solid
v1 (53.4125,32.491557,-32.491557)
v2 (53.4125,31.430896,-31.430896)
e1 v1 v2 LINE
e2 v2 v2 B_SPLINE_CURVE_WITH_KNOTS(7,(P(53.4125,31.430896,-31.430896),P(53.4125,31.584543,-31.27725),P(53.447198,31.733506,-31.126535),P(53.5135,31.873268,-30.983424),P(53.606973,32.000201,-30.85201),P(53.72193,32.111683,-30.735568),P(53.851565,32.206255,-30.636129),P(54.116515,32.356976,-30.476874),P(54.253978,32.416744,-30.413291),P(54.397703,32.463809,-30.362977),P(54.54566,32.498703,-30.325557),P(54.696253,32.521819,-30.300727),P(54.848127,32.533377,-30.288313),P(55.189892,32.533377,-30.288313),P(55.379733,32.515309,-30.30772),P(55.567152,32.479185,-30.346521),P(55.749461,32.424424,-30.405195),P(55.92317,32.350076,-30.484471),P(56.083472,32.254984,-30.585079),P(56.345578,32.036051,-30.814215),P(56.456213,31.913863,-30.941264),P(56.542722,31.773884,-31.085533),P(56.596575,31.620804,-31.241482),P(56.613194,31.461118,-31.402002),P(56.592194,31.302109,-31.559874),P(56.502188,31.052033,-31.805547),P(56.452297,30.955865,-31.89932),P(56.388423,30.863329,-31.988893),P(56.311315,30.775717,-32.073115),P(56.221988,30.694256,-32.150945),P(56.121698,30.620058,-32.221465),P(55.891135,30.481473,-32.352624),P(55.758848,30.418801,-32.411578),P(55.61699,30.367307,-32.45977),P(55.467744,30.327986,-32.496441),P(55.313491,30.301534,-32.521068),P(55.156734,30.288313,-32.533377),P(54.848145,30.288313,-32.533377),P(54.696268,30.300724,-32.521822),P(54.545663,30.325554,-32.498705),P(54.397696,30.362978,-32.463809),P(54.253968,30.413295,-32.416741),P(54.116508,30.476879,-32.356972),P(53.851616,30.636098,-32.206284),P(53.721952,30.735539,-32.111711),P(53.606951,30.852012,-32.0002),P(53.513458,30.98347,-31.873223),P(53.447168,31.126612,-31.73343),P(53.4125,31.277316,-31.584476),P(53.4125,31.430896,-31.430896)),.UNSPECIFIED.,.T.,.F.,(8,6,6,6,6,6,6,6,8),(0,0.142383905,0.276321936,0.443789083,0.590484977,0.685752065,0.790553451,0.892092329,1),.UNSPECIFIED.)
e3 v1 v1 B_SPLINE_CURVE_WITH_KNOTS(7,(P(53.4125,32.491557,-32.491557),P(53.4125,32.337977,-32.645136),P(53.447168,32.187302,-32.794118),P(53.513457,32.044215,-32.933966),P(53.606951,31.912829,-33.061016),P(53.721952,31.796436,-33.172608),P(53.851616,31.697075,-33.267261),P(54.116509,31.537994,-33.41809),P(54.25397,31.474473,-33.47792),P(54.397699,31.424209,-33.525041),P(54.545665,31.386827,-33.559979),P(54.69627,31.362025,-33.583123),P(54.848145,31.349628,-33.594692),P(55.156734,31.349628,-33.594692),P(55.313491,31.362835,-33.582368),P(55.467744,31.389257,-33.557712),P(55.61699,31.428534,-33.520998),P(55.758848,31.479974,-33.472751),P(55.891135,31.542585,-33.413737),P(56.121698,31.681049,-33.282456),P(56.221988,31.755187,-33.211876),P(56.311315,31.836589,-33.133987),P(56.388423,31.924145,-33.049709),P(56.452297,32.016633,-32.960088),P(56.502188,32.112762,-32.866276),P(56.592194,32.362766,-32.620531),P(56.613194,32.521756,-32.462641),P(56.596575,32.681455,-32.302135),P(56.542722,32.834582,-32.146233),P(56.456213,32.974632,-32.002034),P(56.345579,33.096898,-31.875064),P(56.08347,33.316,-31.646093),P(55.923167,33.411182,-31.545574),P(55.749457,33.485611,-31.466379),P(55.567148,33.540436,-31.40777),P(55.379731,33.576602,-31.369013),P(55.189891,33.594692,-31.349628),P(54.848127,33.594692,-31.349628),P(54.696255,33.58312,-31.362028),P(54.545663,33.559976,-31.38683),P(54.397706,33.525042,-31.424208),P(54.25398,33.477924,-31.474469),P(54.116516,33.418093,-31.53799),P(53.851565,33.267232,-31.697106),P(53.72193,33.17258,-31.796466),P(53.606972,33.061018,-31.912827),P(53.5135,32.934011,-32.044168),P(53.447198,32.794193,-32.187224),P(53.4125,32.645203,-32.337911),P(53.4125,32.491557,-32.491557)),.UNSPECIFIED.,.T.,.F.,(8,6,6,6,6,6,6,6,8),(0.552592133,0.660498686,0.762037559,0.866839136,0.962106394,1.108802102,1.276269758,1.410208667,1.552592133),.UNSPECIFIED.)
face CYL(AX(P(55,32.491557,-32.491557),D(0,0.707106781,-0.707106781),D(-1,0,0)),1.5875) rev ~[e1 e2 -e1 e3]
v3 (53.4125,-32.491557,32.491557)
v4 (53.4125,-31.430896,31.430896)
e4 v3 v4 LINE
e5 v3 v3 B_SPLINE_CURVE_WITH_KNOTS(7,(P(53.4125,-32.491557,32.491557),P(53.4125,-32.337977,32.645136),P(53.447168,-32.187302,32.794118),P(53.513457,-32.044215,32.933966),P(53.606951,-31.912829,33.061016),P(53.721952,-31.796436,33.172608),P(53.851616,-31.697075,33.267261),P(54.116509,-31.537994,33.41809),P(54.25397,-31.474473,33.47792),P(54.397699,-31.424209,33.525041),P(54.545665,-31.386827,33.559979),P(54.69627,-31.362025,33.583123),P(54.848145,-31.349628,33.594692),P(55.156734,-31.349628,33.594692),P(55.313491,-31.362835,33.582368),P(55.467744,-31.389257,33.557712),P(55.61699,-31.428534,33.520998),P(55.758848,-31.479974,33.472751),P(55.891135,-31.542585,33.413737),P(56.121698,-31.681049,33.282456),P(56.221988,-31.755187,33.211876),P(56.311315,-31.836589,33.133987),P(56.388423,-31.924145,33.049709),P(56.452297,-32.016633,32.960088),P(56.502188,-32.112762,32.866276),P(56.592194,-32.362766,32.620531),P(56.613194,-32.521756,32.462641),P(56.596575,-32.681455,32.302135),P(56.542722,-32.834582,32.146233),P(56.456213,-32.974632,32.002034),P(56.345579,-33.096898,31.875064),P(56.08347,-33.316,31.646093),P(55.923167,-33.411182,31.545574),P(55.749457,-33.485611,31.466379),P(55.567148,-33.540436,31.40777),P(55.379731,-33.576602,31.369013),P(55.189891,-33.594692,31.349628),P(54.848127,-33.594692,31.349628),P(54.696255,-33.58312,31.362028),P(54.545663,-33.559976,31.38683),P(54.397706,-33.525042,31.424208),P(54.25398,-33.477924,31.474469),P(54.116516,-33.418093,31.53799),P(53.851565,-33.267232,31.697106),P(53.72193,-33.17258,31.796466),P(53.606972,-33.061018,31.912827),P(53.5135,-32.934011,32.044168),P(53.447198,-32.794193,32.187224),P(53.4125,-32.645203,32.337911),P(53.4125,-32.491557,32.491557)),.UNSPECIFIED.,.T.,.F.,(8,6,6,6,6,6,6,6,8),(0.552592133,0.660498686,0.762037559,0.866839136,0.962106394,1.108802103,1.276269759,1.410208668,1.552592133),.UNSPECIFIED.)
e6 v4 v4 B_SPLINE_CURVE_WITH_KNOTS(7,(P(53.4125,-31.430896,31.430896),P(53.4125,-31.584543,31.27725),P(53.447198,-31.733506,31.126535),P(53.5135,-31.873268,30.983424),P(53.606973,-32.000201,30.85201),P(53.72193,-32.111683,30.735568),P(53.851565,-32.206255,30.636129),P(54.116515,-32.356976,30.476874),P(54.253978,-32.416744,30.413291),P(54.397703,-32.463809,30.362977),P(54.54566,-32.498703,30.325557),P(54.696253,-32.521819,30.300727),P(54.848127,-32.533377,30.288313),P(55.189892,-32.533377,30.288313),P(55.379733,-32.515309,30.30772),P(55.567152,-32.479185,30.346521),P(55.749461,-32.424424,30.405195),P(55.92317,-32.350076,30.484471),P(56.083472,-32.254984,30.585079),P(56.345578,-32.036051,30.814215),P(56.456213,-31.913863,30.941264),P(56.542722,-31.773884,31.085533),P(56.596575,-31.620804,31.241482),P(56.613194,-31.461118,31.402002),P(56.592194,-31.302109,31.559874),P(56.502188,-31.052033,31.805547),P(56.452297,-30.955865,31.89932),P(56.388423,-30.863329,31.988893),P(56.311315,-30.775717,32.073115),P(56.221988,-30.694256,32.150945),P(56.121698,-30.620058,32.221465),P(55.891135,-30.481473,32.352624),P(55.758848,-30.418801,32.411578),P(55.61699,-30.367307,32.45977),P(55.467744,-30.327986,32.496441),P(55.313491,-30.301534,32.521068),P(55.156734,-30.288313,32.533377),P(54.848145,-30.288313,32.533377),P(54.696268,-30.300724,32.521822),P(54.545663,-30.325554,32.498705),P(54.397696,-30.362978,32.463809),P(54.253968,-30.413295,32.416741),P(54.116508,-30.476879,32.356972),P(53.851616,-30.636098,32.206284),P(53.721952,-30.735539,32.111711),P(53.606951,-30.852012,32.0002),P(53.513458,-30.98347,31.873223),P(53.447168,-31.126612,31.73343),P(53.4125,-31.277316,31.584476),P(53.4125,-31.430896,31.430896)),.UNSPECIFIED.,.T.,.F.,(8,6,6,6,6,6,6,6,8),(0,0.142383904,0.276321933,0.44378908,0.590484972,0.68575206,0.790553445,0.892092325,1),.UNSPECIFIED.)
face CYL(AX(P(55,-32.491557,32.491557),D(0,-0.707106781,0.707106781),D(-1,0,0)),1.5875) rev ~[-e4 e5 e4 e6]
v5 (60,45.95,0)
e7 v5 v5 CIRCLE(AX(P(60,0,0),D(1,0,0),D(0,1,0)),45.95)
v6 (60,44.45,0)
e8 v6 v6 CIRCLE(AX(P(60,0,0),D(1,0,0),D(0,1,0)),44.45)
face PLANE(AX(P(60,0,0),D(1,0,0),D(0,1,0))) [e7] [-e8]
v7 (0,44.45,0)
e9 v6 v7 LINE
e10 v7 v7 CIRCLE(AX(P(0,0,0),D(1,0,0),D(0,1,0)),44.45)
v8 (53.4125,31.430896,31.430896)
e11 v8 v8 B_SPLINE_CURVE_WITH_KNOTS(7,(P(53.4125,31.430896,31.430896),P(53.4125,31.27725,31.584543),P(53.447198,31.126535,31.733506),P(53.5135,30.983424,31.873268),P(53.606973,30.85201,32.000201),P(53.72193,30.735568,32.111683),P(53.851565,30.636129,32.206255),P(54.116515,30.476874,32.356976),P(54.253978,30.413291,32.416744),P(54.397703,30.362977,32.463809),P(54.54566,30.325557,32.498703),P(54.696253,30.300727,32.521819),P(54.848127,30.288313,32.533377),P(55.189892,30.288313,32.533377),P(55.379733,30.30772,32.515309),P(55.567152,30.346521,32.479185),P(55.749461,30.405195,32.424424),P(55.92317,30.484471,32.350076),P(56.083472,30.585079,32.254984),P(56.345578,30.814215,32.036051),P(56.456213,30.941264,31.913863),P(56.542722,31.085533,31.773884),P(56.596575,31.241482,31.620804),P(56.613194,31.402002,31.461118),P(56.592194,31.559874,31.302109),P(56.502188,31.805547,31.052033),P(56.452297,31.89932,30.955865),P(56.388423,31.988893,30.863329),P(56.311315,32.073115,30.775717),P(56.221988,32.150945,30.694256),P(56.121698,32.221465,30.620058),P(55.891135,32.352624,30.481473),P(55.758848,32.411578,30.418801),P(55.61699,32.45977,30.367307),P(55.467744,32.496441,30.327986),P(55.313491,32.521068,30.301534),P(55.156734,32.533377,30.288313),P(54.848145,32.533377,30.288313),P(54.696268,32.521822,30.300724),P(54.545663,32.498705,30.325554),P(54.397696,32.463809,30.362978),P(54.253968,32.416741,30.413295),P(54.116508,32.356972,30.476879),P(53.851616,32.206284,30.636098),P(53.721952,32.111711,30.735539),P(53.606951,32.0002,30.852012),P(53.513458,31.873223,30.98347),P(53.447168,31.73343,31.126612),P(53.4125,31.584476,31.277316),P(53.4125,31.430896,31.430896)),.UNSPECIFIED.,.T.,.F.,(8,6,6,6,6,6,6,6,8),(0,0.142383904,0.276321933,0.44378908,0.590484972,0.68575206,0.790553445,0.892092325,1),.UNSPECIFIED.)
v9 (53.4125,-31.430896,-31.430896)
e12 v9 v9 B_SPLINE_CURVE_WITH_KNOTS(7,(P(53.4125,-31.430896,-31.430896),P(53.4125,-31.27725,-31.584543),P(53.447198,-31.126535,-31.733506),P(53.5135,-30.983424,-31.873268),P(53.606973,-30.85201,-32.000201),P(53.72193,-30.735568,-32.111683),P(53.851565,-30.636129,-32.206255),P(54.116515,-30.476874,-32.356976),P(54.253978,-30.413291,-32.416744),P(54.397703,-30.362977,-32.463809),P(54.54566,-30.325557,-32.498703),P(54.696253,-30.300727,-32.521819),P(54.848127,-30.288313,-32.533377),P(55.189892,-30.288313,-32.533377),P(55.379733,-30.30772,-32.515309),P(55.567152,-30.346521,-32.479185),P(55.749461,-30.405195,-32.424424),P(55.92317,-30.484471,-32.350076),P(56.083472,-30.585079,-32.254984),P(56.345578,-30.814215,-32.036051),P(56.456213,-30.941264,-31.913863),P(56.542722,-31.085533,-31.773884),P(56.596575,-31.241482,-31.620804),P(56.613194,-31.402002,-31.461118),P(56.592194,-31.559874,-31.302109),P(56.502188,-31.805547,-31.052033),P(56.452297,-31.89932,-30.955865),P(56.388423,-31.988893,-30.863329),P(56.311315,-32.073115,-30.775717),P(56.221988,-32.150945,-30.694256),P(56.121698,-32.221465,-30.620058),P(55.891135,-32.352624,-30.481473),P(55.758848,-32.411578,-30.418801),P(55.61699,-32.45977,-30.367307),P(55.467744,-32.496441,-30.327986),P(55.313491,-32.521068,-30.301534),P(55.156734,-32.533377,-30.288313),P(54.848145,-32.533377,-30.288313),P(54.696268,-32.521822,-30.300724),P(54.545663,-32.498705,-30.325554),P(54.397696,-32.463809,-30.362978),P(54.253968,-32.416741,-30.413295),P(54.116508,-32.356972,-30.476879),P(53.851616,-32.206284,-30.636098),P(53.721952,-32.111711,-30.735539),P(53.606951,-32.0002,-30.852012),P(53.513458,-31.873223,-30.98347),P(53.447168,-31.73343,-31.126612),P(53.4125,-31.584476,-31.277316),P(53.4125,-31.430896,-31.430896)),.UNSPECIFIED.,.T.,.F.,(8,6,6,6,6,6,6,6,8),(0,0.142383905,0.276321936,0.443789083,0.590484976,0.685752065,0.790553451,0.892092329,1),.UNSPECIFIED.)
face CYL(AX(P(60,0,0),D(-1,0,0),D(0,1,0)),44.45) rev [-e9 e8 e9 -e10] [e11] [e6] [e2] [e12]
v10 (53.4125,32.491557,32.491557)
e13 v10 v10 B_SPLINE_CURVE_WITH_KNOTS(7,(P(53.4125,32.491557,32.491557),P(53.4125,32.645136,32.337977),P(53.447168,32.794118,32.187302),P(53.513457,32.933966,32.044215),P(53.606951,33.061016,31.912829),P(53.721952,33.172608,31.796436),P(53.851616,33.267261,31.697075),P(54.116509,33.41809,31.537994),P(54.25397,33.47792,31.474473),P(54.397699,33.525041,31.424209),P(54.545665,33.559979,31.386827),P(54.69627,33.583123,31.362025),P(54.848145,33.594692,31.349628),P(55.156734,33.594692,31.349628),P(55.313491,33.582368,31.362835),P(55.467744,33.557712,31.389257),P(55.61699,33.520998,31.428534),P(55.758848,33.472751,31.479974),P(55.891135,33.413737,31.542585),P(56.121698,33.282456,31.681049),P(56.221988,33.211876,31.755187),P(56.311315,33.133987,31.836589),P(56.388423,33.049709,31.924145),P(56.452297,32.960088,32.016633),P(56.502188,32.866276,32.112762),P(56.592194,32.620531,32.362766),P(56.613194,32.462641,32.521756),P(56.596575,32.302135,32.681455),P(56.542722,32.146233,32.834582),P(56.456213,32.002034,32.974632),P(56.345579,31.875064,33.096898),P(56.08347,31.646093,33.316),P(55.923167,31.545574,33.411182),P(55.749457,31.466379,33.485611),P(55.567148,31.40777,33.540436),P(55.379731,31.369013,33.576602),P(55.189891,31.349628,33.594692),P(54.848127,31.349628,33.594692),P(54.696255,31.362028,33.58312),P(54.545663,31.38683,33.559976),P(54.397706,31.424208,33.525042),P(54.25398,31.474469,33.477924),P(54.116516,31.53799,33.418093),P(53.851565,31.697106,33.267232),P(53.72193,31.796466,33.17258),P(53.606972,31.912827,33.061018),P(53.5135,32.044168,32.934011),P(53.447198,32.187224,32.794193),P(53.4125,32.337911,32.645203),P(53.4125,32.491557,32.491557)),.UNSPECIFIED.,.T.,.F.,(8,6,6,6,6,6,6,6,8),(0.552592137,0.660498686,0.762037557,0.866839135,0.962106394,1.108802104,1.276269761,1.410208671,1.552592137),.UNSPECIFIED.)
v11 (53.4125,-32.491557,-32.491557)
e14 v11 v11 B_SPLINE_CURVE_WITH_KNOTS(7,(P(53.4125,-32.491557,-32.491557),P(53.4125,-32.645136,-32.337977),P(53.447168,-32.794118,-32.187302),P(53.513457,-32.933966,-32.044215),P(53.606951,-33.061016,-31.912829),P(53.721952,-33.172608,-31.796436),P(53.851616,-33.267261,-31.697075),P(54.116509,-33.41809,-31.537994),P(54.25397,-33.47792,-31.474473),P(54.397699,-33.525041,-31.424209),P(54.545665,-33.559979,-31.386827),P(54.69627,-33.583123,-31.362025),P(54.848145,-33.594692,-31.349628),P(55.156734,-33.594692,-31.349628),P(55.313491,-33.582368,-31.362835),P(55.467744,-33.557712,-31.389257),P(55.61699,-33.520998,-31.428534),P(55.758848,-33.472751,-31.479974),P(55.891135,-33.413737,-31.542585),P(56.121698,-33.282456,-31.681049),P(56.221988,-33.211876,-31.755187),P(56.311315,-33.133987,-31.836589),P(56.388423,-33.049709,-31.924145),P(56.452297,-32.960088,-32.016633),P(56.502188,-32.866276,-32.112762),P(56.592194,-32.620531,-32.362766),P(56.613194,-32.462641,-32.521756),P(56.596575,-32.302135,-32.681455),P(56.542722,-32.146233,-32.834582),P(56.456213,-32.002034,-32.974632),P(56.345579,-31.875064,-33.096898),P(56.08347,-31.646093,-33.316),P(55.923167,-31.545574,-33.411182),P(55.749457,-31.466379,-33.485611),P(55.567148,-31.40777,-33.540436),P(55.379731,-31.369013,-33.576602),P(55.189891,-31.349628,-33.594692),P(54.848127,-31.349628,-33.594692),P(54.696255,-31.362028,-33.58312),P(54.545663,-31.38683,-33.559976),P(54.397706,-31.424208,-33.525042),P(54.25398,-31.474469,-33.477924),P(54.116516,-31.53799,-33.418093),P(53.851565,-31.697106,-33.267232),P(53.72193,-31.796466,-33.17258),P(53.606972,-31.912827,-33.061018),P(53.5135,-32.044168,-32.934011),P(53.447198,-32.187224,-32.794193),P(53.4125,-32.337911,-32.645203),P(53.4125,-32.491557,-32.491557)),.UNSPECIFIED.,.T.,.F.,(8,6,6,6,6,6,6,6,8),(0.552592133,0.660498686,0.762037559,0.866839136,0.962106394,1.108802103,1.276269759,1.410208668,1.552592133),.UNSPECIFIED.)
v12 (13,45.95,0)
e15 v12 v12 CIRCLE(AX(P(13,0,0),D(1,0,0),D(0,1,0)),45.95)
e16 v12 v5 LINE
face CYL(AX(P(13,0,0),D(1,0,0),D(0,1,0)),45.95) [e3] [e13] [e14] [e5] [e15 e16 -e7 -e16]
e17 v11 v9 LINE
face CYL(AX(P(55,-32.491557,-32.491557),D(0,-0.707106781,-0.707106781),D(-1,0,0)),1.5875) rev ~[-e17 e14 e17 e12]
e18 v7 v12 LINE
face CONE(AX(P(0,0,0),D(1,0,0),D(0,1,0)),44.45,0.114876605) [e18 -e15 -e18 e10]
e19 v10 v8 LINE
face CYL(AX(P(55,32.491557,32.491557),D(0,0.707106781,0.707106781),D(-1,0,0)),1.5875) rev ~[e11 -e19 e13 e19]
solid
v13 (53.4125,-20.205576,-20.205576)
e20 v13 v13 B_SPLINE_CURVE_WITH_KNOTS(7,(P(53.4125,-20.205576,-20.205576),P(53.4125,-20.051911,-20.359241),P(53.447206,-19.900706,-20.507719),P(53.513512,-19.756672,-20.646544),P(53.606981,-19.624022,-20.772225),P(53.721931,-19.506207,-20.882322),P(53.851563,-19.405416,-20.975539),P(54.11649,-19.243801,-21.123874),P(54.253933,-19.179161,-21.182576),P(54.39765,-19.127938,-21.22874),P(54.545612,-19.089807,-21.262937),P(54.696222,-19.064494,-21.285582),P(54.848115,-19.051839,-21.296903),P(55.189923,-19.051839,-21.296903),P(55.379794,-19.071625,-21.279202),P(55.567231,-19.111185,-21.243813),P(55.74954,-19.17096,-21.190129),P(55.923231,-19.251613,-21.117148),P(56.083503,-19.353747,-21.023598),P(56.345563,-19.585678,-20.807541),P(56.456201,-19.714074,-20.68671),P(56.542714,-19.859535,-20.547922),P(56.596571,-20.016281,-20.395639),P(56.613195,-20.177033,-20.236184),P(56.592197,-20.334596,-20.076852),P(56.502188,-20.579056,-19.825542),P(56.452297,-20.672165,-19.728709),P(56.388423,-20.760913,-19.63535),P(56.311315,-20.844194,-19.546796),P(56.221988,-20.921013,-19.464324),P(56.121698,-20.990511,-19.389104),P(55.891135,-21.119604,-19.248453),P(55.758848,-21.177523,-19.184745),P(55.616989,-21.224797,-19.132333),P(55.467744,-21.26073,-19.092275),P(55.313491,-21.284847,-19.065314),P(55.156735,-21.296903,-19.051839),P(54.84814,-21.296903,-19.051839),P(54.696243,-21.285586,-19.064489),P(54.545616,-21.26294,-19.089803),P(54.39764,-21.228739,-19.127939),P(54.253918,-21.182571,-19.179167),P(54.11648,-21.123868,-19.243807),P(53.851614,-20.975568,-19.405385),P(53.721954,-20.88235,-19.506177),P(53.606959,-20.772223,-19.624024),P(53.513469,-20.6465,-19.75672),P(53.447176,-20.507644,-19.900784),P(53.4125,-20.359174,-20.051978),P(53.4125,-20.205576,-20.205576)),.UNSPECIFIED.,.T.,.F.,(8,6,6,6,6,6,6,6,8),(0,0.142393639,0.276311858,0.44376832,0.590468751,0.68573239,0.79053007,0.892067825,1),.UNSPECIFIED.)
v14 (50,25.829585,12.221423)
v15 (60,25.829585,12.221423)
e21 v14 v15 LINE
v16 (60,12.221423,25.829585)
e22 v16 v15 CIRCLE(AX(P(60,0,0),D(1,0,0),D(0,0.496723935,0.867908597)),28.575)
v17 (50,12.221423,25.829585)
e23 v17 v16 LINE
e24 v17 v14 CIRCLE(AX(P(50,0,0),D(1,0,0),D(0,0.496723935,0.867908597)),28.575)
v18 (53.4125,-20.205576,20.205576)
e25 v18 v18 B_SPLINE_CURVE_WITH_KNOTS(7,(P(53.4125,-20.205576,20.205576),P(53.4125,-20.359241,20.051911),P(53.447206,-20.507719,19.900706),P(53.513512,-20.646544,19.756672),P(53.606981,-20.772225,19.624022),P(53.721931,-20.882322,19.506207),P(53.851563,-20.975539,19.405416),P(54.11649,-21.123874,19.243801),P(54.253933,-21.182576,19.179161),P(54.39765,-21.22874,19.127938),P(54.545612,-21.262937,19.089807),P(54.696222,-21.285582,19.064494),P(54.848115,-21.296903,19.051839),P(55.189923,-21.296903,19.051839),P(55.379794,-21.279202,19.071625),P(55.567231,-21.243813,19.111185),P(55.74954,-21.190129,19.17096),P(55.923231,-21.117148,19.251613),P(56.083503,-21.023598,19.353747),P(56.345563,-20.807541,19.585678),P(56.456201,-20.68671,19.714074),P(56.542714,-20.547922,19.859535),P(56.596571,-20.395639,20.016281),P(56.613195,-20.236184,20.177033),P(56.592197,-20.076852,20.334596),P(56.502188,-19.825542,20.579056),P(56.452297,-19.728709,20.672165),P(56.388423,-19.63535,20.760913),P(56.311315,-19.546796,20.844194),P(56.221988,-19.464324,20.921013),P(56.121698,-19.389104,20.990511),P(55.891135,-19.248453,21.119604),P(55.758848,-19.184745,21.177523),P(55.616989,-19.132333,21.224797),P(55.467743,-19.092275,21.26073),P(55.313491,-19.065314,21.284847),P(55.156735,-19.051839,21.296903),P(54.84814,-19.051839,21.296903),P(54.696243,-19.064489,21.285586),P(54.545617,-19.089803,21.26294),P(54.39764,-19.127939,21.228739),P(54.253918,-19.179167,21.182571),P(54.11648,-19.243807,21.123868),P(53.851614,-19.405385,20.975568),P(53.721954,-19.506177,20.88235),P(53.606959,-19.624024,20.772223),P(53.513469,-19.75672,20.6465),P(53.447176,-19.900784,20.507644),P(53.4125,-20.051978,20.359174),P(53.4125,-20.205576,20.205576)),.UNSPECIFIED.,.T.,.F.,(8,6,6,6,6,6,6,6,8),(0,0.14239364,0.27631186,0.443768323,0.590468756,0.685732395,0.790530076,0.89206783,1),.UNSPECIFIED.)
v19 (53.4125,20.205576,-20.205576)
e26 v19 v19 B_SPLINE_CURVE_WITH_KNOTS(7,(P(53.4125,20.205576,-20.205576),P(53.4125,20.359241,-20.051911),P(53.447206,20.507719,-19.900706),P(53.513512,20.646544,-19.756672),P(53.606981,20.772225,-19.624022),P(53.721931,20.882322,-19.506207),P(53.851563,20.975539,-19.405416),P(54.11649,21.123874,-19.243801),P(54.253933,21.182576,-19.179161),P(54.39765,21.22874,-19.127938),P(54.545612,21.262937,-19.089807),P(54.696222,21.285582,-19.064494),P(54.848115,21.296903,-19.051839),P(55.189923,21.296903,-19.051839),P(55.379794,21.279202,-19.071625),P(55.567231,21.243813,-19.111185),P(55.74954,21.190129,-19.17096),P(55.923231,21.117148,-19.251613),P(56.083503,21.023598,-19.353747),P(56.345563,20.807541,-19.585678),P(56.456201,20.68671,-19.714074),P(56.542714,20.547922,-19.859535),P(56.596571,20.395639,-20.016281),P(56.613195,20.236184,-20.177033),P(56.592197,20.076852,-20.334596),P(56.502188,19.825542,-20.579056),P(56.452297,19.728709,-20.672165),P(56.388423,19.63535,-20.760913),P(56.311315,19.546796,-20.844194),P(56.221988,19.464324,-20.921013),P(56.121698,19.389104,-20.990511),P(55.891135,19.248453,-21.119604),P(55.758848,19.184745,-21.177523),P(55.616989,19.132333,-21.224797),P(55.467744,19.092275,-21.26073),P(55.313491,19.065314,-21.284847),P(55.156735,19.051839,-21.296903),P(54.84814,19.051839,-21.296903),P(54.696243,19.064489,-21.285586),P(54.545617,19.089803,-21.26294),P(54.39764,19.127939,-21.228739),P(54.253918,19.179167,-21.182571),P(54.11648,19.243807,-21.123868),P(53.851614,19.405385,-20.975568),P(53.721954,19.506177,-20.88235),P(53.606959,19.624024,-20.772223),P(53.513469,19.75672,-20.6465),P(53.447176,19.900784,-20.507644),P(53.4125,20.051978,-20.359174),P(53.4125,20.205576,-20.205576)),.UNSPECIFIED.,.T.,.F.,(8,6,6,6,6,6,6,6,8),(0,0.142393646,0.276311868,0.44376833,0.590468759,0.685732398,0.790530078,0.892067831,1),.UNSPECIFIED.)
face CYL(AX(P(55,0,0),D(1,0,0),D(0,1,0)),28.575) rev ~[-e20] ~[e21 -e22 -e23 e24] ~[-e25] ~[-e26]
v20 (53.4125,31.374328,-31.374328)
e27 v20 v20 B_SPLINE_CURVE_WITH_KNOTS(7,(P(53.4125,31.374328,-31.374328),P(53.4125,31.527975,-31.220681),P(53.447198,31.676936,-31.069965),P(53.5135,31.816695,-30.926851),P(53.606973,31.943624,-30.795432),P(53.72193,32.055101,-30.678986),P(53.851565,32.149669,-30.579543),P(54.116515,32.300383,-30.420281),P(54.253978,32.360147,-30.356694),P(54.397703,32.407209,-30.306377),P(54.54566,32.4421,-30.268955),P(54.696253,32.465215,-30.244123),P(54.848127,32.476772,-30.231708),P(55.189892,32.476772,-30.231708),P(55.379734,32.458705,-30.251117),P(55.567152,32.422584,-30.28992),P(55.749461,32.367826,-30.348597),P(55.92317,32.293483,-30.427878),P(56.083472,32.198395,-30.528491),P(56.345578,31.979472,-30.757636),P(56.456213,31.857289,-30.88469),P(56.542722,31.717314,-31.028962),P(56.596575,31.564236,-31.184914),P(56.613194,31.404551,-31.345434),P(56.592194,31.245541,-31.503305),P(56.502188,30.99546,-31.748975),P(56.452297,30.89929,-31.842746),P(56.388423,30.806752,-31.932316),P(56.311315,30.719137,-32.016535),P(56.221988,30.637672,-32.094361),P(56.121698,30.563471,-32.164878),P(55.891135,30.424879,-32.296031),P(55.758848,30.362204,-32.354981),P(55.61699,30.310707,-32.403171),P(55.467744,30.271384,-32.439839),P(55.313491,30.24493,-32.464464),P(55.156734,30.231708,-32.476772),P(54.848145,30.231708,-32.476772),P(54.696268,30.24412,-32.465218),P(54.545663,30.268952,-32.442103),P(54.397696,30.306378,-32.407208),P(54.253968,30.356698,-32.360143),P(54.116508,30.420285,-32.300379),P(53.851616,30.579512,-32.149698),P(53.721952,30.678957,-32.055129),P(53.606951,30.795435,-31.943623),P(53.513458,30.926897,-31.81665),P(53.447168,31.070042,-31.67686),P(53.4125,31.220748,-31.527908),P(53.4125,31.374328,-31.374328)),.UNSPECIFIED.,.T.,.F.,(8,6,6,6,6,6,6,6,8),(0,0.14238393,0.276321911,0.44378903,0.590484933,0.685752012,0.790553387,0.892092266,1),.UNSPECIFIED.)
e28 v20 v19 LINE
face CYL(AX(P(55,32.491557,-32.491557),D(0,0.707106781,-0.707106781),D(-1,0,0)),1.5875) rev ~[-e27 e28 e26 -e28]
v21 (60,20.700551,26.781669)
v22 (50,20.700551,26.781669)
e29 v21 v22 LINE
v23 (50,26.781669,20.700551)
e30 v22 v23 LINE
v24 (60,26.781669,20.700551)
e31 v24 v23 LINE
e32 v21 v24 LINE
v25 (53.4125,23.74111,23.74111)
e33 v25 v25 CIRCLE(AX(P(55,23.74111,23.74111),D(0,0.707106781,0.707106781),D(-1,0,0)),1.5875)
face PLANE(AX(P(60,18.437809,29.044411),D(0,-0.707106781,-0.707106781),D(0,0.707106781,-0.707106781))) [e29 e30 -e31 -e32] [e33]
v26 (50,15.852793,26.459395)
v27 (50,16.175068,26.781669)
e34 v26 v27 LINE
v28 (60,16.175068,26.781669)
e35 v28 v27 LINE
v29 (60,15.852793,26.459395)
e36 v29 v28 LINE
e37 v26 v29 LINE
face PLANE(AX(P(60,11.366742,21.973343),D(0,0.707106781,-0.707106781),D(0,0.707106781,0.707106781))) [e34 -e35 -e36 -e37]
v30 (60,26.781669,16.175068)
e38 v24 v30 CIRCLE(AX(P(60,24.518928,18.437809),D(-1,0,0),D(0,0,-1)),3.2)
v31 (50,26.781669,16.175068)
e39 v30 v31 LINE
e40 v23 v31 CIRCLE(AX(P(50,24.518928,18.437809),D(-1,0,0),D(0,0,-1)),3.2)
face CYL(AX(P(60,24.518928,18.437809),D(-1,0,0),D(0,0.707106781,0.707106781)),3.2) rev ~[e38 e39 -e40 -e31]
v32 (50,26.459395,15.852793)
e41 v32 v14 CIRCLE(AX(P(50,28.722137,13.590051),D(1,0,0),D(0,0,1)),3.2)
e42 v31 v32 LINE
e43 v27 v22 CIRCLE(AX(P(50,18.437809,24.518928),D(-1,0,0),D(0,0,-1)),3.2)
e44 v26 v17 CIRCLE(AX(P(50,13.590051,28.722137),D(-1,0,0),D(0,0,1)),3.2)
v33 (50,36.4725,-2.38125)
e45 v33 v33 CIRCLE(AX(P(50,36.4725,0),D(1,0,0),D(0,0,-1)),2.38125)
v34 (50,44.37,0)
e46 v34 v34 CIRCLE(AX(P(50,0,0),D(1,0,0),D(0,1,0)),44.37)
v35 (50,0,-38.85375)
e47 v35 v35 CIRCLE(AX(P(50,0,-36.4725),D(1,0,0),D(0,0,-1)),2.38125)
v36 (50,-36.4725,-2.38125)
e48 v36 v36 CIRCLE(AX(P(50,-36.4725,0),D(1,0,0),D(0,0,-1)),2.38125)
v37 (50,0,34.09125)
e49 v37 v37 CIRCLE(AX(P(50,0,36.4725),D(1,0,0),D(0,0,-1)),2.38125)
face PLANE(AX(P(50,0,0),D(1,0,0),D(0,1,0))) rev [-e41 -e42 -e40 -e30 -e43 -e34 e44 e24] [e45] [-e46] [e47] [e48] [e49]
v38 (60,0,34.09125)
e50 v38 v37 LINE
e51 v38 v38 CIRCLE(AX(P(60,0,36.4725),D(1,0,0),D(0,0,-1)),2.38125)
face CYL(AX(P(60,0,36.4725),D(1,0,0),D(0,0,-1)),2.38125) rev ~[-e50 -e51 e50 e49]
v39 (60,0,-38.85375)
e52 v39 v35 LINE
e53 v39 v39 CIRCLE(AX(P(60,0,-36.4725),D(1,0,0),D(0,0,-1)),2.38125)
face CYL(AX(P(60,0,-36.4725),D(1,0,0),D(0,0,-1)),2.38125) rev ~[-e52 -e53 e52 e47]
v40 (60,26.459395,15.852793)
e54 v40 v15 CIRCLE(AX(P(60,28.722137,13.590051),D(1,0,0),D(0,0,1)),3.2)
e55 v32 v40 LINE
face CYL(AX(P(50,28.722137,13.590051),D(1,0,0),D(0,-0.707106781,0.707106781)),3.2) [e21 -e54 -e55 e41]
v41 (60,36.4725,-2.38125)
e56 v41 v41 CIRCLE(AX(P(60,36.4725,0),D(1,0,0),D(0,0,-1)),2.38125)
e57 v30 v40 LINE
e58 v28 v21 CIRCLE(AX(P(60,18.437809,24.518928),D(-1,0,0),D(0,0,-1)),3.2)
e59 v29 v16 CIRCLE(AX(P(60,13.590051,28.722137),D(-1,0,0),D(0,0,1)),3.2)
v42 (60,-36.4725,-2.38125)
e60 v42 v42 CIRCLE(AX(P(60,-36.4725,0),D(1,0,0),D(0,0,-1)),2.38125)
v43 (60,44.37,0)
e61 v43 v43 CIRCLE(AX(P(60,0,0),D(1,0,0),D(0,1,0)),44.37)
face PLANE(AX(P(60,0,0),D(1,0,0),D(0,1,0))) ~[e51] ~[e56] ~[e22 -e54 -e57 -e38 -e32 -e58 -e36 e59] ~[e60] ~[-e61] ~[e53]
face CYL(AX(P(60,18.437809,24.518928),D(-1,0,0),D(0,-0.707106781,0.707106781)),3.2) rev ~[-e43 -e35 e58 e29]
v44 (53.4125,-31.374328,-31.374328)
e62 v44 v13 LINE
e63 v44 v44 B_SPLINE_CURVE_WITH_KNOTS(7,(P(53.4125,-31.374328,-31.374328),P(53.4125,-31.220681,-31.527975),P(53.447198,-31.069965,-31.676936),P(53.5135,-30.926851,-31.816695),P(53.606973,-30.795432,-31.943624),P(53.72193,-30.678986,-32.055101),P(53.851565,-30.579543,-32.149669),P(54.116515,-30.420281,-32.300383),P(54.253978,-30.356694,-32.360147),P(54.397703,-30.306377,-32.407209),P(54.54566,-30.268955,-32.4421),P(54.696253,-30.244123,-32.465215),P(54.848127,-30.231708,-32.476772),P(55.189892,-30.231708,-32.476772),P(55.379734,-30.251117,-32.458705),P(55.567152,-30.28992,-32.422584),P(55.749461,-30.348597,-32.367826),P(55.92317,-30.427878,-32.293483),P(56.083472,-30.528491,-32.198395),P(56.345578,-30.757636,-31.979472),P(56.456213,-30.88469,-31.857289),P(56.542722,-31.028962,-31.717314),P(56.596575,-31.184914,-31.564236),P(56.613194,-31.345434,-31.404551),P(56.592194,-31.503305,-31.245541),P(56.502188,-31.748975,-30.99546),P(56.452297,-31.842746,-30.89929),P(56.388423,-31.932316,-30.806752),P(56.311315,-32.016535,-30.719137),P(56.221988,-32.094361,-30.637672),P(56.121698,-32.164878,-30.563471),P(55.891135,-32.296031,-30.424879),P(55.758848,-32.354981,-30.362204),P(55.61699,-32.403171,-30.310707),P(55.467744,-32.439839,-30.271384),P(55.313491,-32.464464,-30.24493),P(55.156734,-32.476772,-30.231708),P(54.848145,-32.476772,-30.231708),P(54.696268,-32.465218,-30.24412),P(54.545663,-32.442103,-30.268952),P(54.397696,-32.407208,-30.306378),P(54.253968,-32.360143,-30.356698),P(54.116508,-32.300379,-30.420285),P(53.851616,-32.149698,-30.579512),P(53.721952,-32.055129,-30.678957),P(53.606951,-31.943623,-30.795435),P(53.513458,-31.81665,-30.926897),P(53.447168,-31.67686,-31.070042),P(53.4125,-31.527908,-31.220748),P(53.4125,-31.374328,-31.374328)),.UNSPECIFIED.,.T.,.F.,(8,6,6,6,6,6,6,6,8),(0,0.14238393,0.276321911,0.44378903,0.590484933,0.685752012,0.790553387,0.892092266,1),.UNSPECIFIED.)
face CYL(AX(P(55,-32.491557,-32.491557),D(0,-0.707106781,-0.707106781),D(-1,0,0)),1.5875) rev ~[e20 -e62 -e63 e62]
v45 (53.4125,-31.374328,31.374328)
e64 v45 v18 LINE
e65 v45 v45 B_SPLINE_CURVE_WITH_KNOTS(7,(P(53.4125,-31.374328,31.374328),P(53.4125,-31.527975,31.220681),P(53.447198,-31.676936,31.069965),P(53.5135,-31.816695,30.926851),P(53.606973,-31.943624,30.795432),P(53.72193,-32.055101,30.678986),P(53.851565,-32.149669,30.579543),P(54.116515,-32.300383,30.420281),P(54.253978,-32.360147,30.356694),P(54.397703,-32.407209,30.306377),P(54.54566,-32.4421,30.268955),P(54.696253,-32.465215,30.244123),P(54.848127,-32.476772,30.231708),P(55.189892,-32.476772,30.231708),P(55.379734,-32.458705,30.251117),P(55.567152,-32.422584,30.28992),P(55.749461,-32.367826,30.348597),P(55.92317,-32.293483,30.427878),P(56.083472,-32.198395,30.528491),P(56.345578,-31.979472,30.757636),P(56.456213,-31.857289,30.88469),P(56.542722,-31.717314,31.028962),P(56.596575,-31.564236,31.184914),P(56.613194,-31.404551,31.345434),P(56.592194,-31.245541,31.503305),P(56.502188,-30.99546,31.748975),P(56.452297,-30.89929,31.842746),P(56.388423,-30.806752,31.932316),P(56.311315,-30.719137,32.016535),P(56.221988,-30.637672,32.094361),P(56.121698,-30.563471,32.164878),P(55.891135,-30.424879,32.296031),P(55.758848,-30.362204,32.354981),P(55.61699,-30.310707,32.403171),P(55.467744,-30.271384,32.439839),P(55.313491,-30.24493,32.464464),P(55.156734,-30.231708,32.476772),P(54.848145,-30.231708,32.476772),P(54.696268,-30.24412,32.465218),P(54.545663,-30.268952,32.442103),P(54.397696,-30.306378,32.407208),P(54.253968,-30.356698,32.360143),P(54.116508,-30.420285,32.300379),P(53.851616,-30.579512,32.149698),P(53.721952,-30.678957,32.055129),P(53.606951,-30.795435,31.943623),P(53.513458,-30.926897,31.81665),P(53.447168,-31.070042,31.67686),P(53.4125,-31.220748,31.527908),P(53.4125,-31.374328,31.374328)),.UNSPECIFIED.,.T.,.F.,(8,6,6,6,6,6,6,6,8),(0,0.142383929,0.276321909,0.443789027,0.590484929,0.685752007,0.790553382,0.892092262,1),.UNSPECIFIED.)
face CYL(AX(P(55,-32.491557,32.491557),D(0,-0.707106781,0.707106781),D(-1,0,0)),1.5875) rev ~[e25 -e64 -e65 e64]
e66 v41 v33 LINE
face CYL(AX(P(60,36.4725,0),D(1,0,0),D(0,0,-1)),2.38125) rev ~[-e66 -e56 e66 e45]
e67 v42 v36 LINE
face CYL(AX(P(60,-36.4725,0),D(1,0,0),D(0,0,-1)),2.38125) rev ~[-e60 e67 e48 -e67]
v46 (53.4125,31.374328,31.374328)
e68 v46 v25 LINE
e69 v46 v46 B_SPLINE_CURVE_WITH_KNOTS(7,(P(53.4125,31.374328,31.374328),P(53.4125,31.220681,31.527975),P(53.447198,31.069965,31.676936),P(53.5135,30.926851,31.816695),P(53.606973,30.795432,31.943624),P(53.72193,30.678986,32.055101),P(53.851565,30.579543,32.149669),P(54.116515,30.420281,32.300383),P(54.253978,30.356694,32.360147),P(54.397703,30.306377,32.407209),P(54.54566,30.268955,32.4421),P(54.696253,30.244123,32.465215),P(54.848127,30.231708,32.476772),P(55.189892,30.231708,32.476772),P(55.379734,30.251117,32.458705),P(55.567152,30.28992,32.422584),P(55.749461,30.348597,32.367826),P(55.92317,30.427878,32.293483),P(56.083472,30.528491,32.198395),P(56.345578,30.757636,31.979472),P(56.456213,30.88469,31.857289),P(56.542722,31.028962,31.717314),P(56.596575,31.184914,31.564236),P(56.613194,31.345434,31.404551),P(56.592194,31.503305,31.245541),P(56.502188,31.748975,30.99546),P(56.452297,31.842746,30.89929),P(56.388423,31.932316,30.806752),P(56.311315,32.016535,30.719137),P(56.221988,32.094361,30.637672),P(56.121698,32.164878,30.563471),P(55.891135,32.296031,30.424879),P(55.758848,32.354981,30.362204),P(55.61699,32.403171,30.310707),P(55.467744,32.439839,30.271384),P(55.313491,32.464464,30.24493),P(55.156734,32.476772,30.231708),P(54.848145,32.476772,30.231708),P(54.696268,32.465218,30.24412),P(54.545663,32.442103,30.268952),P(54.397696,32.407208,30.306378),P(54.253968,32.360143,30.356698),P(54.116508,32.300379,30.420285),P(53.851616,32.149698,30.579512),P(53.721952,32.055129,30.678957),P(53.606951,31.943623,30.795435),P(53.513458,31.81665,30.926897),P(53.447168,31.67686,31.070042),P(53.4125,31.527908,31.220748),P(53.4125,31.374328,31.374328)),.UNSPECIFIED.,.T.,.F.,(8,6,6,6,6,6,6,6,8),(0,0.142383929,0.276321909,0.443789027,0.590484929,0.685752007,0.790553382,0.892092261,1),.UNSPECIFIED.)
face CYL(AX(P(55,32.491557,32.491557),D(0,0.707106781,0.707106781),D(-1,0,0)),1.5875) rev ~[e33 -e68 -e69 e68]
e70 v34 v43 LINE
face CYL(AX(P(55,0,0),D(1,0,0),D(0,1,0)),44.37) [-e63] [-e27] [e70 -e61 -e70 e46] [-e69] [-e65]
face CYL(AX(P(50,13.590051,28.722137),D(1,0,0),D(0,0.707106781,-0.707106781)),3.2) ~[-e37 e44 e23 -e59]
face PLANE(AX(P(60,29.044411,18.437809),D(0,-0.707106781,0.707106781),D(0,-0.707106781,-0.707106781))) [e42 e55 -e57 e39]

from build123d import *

# Parameters (mm, degrees)
SKETCH2_W          = 10
SKETCH2_H          = 15.795
SKETCH3_R          = 2.38125
CUT_EXTRUDE1_DEPTH = 61
SKETCH4_R          = 1.5875
CUT_EXTRUDE2_DEPTH = 17.419131
CIRPATTERN1_COUNT  = 4
CUT_EXTRUDE3_DEPTH = 10
FILLET1_R          = 3.2


with BuildPart() as part:
    # Sketch1 → Revolve1 (revolve)
    with BuildSketch(Plane.XY):
        Polygon((13, 45.95), (60, 45.95), (60, 44.45), (0, 44.45), align=None)
    revolve(axis=Axis((0, 0, 0), (1, 0, 0)))


with BuildPart() as body_2:
    # Sketch2 → Revolve2 (revolve)
    with BuildSketch(Plane.XY):
        with Locations((55, 36.4725)):
            Rectangle(SKETCH2_W, SKETCH2_H)
    revolve(axis=Axis((0, 0, 0), (1, 0, 0)))

    # Sketch3 → Cut-Extrude1 (cut, through all)
    with BuildSketch(Plane(origin=(60, 0, 0), x_dir=(0, 0, -1), z_dir=(1, 0, 0))):
        with Locations((-36.4725, 0)):
            Circle(SKETCH3_R)
        with Locations((0, 36.4725)):
            Circle(SKETCH3_R)
        with Locations((36.4725, 0)):
            Circle(SKETCH3_R)
        with Locations((0, -36.4725)):
            Circle(SKETCH3_R)
    extrude(amount=-CUT_EXTRUDE1_DEPTH, mode=Mode.SUBTRACT)


with BuildPart() as cut_extrude2_tool:
    # Sketch4 → Cut-Extrude2 (new body)
    with BuildSketch(Plane(origin=(0, 32.491556596, 32.491556596), x_dir=(-1, 0, 0), z_dir=(0, 0.707106781, 0.707106781))):
        with Locations((-55, 0)):
            Circle(SKETCH4_R)
    cut_extrude2 = extrude(amount=-CUT_EXTRUDE2_DEPTH)


with BuildPart() as part_1:
    add(part.part)

    # Cut-Extrude2: cut by cut_extrude2_tool
    add(cut_extrude2_tool.part, mode=Mode.SUBTRACT)


with BuildPart() as body_2_1:
    add(body_2.part)

    # Cut-Extrude2: cut by cut_extrude2_tool
    add(cut_extrude2_tool.part, mode=Mode.SUBTRACT)


with BuildPart() as cirpattern1_tool:
    # CirPattern1: Cut-Extrude2 ×4 about axis
    cirpattern1_axis = Axis((60, 0, 0), (-1, 0, 0))
    for i in range(1, CIRPATTERN1_COUNT):
        add(cut_extrude2.rotate(cirpattern1_axis, i * 360 / CIRPATTERN1_COUNT))


with BuildPart() as part_2:
    add(part_1.part)

    # CirPattern1: cut by cirpattern1_tool
    add(cirpattern1_tool.part, mode=Mode.SUBTRACT)


with BuildPart() as body_2_2:
    add(body_2_1.part)

    # CirPattern1: cut by cirpattern1_tool
    add(cirpattern1_tool.part, mode=Mode.SUBTRACT)

    # Sketch5 → Cut-Extrude3 (cut)
    with BuildSketch(Plane(origin=(60, 0, 0), x_dir=(0, 0, -1), z_dir=(1, 0, 0))):
        Polygon((-29.044411037, 18.437809319), (-18.437809319, 29.044411037), (-11.366741508, 21.973343225), (-21.973343225, 11.366741508), align=None)
    extrude(amount=-CUT_EXTRUDE3_DEPTH, mode=Mode.SUBTRACT)

    # Fillet1
    fillet1_edges = [body_2_2.edges().sort_by_distance(p)[0] for p in [
        (55, 14.193886438, 24.800488156),
        (55, 24.800488156, 14.193886438),
        (55, 29.044411037, 18.437809319),
        (55, 18.437809319, 29.044411037),
    ]]
    fillet(fillet1_edges, radius=FILLET1_R)


solid = Compound([part_2.part, body_2_2.part])
